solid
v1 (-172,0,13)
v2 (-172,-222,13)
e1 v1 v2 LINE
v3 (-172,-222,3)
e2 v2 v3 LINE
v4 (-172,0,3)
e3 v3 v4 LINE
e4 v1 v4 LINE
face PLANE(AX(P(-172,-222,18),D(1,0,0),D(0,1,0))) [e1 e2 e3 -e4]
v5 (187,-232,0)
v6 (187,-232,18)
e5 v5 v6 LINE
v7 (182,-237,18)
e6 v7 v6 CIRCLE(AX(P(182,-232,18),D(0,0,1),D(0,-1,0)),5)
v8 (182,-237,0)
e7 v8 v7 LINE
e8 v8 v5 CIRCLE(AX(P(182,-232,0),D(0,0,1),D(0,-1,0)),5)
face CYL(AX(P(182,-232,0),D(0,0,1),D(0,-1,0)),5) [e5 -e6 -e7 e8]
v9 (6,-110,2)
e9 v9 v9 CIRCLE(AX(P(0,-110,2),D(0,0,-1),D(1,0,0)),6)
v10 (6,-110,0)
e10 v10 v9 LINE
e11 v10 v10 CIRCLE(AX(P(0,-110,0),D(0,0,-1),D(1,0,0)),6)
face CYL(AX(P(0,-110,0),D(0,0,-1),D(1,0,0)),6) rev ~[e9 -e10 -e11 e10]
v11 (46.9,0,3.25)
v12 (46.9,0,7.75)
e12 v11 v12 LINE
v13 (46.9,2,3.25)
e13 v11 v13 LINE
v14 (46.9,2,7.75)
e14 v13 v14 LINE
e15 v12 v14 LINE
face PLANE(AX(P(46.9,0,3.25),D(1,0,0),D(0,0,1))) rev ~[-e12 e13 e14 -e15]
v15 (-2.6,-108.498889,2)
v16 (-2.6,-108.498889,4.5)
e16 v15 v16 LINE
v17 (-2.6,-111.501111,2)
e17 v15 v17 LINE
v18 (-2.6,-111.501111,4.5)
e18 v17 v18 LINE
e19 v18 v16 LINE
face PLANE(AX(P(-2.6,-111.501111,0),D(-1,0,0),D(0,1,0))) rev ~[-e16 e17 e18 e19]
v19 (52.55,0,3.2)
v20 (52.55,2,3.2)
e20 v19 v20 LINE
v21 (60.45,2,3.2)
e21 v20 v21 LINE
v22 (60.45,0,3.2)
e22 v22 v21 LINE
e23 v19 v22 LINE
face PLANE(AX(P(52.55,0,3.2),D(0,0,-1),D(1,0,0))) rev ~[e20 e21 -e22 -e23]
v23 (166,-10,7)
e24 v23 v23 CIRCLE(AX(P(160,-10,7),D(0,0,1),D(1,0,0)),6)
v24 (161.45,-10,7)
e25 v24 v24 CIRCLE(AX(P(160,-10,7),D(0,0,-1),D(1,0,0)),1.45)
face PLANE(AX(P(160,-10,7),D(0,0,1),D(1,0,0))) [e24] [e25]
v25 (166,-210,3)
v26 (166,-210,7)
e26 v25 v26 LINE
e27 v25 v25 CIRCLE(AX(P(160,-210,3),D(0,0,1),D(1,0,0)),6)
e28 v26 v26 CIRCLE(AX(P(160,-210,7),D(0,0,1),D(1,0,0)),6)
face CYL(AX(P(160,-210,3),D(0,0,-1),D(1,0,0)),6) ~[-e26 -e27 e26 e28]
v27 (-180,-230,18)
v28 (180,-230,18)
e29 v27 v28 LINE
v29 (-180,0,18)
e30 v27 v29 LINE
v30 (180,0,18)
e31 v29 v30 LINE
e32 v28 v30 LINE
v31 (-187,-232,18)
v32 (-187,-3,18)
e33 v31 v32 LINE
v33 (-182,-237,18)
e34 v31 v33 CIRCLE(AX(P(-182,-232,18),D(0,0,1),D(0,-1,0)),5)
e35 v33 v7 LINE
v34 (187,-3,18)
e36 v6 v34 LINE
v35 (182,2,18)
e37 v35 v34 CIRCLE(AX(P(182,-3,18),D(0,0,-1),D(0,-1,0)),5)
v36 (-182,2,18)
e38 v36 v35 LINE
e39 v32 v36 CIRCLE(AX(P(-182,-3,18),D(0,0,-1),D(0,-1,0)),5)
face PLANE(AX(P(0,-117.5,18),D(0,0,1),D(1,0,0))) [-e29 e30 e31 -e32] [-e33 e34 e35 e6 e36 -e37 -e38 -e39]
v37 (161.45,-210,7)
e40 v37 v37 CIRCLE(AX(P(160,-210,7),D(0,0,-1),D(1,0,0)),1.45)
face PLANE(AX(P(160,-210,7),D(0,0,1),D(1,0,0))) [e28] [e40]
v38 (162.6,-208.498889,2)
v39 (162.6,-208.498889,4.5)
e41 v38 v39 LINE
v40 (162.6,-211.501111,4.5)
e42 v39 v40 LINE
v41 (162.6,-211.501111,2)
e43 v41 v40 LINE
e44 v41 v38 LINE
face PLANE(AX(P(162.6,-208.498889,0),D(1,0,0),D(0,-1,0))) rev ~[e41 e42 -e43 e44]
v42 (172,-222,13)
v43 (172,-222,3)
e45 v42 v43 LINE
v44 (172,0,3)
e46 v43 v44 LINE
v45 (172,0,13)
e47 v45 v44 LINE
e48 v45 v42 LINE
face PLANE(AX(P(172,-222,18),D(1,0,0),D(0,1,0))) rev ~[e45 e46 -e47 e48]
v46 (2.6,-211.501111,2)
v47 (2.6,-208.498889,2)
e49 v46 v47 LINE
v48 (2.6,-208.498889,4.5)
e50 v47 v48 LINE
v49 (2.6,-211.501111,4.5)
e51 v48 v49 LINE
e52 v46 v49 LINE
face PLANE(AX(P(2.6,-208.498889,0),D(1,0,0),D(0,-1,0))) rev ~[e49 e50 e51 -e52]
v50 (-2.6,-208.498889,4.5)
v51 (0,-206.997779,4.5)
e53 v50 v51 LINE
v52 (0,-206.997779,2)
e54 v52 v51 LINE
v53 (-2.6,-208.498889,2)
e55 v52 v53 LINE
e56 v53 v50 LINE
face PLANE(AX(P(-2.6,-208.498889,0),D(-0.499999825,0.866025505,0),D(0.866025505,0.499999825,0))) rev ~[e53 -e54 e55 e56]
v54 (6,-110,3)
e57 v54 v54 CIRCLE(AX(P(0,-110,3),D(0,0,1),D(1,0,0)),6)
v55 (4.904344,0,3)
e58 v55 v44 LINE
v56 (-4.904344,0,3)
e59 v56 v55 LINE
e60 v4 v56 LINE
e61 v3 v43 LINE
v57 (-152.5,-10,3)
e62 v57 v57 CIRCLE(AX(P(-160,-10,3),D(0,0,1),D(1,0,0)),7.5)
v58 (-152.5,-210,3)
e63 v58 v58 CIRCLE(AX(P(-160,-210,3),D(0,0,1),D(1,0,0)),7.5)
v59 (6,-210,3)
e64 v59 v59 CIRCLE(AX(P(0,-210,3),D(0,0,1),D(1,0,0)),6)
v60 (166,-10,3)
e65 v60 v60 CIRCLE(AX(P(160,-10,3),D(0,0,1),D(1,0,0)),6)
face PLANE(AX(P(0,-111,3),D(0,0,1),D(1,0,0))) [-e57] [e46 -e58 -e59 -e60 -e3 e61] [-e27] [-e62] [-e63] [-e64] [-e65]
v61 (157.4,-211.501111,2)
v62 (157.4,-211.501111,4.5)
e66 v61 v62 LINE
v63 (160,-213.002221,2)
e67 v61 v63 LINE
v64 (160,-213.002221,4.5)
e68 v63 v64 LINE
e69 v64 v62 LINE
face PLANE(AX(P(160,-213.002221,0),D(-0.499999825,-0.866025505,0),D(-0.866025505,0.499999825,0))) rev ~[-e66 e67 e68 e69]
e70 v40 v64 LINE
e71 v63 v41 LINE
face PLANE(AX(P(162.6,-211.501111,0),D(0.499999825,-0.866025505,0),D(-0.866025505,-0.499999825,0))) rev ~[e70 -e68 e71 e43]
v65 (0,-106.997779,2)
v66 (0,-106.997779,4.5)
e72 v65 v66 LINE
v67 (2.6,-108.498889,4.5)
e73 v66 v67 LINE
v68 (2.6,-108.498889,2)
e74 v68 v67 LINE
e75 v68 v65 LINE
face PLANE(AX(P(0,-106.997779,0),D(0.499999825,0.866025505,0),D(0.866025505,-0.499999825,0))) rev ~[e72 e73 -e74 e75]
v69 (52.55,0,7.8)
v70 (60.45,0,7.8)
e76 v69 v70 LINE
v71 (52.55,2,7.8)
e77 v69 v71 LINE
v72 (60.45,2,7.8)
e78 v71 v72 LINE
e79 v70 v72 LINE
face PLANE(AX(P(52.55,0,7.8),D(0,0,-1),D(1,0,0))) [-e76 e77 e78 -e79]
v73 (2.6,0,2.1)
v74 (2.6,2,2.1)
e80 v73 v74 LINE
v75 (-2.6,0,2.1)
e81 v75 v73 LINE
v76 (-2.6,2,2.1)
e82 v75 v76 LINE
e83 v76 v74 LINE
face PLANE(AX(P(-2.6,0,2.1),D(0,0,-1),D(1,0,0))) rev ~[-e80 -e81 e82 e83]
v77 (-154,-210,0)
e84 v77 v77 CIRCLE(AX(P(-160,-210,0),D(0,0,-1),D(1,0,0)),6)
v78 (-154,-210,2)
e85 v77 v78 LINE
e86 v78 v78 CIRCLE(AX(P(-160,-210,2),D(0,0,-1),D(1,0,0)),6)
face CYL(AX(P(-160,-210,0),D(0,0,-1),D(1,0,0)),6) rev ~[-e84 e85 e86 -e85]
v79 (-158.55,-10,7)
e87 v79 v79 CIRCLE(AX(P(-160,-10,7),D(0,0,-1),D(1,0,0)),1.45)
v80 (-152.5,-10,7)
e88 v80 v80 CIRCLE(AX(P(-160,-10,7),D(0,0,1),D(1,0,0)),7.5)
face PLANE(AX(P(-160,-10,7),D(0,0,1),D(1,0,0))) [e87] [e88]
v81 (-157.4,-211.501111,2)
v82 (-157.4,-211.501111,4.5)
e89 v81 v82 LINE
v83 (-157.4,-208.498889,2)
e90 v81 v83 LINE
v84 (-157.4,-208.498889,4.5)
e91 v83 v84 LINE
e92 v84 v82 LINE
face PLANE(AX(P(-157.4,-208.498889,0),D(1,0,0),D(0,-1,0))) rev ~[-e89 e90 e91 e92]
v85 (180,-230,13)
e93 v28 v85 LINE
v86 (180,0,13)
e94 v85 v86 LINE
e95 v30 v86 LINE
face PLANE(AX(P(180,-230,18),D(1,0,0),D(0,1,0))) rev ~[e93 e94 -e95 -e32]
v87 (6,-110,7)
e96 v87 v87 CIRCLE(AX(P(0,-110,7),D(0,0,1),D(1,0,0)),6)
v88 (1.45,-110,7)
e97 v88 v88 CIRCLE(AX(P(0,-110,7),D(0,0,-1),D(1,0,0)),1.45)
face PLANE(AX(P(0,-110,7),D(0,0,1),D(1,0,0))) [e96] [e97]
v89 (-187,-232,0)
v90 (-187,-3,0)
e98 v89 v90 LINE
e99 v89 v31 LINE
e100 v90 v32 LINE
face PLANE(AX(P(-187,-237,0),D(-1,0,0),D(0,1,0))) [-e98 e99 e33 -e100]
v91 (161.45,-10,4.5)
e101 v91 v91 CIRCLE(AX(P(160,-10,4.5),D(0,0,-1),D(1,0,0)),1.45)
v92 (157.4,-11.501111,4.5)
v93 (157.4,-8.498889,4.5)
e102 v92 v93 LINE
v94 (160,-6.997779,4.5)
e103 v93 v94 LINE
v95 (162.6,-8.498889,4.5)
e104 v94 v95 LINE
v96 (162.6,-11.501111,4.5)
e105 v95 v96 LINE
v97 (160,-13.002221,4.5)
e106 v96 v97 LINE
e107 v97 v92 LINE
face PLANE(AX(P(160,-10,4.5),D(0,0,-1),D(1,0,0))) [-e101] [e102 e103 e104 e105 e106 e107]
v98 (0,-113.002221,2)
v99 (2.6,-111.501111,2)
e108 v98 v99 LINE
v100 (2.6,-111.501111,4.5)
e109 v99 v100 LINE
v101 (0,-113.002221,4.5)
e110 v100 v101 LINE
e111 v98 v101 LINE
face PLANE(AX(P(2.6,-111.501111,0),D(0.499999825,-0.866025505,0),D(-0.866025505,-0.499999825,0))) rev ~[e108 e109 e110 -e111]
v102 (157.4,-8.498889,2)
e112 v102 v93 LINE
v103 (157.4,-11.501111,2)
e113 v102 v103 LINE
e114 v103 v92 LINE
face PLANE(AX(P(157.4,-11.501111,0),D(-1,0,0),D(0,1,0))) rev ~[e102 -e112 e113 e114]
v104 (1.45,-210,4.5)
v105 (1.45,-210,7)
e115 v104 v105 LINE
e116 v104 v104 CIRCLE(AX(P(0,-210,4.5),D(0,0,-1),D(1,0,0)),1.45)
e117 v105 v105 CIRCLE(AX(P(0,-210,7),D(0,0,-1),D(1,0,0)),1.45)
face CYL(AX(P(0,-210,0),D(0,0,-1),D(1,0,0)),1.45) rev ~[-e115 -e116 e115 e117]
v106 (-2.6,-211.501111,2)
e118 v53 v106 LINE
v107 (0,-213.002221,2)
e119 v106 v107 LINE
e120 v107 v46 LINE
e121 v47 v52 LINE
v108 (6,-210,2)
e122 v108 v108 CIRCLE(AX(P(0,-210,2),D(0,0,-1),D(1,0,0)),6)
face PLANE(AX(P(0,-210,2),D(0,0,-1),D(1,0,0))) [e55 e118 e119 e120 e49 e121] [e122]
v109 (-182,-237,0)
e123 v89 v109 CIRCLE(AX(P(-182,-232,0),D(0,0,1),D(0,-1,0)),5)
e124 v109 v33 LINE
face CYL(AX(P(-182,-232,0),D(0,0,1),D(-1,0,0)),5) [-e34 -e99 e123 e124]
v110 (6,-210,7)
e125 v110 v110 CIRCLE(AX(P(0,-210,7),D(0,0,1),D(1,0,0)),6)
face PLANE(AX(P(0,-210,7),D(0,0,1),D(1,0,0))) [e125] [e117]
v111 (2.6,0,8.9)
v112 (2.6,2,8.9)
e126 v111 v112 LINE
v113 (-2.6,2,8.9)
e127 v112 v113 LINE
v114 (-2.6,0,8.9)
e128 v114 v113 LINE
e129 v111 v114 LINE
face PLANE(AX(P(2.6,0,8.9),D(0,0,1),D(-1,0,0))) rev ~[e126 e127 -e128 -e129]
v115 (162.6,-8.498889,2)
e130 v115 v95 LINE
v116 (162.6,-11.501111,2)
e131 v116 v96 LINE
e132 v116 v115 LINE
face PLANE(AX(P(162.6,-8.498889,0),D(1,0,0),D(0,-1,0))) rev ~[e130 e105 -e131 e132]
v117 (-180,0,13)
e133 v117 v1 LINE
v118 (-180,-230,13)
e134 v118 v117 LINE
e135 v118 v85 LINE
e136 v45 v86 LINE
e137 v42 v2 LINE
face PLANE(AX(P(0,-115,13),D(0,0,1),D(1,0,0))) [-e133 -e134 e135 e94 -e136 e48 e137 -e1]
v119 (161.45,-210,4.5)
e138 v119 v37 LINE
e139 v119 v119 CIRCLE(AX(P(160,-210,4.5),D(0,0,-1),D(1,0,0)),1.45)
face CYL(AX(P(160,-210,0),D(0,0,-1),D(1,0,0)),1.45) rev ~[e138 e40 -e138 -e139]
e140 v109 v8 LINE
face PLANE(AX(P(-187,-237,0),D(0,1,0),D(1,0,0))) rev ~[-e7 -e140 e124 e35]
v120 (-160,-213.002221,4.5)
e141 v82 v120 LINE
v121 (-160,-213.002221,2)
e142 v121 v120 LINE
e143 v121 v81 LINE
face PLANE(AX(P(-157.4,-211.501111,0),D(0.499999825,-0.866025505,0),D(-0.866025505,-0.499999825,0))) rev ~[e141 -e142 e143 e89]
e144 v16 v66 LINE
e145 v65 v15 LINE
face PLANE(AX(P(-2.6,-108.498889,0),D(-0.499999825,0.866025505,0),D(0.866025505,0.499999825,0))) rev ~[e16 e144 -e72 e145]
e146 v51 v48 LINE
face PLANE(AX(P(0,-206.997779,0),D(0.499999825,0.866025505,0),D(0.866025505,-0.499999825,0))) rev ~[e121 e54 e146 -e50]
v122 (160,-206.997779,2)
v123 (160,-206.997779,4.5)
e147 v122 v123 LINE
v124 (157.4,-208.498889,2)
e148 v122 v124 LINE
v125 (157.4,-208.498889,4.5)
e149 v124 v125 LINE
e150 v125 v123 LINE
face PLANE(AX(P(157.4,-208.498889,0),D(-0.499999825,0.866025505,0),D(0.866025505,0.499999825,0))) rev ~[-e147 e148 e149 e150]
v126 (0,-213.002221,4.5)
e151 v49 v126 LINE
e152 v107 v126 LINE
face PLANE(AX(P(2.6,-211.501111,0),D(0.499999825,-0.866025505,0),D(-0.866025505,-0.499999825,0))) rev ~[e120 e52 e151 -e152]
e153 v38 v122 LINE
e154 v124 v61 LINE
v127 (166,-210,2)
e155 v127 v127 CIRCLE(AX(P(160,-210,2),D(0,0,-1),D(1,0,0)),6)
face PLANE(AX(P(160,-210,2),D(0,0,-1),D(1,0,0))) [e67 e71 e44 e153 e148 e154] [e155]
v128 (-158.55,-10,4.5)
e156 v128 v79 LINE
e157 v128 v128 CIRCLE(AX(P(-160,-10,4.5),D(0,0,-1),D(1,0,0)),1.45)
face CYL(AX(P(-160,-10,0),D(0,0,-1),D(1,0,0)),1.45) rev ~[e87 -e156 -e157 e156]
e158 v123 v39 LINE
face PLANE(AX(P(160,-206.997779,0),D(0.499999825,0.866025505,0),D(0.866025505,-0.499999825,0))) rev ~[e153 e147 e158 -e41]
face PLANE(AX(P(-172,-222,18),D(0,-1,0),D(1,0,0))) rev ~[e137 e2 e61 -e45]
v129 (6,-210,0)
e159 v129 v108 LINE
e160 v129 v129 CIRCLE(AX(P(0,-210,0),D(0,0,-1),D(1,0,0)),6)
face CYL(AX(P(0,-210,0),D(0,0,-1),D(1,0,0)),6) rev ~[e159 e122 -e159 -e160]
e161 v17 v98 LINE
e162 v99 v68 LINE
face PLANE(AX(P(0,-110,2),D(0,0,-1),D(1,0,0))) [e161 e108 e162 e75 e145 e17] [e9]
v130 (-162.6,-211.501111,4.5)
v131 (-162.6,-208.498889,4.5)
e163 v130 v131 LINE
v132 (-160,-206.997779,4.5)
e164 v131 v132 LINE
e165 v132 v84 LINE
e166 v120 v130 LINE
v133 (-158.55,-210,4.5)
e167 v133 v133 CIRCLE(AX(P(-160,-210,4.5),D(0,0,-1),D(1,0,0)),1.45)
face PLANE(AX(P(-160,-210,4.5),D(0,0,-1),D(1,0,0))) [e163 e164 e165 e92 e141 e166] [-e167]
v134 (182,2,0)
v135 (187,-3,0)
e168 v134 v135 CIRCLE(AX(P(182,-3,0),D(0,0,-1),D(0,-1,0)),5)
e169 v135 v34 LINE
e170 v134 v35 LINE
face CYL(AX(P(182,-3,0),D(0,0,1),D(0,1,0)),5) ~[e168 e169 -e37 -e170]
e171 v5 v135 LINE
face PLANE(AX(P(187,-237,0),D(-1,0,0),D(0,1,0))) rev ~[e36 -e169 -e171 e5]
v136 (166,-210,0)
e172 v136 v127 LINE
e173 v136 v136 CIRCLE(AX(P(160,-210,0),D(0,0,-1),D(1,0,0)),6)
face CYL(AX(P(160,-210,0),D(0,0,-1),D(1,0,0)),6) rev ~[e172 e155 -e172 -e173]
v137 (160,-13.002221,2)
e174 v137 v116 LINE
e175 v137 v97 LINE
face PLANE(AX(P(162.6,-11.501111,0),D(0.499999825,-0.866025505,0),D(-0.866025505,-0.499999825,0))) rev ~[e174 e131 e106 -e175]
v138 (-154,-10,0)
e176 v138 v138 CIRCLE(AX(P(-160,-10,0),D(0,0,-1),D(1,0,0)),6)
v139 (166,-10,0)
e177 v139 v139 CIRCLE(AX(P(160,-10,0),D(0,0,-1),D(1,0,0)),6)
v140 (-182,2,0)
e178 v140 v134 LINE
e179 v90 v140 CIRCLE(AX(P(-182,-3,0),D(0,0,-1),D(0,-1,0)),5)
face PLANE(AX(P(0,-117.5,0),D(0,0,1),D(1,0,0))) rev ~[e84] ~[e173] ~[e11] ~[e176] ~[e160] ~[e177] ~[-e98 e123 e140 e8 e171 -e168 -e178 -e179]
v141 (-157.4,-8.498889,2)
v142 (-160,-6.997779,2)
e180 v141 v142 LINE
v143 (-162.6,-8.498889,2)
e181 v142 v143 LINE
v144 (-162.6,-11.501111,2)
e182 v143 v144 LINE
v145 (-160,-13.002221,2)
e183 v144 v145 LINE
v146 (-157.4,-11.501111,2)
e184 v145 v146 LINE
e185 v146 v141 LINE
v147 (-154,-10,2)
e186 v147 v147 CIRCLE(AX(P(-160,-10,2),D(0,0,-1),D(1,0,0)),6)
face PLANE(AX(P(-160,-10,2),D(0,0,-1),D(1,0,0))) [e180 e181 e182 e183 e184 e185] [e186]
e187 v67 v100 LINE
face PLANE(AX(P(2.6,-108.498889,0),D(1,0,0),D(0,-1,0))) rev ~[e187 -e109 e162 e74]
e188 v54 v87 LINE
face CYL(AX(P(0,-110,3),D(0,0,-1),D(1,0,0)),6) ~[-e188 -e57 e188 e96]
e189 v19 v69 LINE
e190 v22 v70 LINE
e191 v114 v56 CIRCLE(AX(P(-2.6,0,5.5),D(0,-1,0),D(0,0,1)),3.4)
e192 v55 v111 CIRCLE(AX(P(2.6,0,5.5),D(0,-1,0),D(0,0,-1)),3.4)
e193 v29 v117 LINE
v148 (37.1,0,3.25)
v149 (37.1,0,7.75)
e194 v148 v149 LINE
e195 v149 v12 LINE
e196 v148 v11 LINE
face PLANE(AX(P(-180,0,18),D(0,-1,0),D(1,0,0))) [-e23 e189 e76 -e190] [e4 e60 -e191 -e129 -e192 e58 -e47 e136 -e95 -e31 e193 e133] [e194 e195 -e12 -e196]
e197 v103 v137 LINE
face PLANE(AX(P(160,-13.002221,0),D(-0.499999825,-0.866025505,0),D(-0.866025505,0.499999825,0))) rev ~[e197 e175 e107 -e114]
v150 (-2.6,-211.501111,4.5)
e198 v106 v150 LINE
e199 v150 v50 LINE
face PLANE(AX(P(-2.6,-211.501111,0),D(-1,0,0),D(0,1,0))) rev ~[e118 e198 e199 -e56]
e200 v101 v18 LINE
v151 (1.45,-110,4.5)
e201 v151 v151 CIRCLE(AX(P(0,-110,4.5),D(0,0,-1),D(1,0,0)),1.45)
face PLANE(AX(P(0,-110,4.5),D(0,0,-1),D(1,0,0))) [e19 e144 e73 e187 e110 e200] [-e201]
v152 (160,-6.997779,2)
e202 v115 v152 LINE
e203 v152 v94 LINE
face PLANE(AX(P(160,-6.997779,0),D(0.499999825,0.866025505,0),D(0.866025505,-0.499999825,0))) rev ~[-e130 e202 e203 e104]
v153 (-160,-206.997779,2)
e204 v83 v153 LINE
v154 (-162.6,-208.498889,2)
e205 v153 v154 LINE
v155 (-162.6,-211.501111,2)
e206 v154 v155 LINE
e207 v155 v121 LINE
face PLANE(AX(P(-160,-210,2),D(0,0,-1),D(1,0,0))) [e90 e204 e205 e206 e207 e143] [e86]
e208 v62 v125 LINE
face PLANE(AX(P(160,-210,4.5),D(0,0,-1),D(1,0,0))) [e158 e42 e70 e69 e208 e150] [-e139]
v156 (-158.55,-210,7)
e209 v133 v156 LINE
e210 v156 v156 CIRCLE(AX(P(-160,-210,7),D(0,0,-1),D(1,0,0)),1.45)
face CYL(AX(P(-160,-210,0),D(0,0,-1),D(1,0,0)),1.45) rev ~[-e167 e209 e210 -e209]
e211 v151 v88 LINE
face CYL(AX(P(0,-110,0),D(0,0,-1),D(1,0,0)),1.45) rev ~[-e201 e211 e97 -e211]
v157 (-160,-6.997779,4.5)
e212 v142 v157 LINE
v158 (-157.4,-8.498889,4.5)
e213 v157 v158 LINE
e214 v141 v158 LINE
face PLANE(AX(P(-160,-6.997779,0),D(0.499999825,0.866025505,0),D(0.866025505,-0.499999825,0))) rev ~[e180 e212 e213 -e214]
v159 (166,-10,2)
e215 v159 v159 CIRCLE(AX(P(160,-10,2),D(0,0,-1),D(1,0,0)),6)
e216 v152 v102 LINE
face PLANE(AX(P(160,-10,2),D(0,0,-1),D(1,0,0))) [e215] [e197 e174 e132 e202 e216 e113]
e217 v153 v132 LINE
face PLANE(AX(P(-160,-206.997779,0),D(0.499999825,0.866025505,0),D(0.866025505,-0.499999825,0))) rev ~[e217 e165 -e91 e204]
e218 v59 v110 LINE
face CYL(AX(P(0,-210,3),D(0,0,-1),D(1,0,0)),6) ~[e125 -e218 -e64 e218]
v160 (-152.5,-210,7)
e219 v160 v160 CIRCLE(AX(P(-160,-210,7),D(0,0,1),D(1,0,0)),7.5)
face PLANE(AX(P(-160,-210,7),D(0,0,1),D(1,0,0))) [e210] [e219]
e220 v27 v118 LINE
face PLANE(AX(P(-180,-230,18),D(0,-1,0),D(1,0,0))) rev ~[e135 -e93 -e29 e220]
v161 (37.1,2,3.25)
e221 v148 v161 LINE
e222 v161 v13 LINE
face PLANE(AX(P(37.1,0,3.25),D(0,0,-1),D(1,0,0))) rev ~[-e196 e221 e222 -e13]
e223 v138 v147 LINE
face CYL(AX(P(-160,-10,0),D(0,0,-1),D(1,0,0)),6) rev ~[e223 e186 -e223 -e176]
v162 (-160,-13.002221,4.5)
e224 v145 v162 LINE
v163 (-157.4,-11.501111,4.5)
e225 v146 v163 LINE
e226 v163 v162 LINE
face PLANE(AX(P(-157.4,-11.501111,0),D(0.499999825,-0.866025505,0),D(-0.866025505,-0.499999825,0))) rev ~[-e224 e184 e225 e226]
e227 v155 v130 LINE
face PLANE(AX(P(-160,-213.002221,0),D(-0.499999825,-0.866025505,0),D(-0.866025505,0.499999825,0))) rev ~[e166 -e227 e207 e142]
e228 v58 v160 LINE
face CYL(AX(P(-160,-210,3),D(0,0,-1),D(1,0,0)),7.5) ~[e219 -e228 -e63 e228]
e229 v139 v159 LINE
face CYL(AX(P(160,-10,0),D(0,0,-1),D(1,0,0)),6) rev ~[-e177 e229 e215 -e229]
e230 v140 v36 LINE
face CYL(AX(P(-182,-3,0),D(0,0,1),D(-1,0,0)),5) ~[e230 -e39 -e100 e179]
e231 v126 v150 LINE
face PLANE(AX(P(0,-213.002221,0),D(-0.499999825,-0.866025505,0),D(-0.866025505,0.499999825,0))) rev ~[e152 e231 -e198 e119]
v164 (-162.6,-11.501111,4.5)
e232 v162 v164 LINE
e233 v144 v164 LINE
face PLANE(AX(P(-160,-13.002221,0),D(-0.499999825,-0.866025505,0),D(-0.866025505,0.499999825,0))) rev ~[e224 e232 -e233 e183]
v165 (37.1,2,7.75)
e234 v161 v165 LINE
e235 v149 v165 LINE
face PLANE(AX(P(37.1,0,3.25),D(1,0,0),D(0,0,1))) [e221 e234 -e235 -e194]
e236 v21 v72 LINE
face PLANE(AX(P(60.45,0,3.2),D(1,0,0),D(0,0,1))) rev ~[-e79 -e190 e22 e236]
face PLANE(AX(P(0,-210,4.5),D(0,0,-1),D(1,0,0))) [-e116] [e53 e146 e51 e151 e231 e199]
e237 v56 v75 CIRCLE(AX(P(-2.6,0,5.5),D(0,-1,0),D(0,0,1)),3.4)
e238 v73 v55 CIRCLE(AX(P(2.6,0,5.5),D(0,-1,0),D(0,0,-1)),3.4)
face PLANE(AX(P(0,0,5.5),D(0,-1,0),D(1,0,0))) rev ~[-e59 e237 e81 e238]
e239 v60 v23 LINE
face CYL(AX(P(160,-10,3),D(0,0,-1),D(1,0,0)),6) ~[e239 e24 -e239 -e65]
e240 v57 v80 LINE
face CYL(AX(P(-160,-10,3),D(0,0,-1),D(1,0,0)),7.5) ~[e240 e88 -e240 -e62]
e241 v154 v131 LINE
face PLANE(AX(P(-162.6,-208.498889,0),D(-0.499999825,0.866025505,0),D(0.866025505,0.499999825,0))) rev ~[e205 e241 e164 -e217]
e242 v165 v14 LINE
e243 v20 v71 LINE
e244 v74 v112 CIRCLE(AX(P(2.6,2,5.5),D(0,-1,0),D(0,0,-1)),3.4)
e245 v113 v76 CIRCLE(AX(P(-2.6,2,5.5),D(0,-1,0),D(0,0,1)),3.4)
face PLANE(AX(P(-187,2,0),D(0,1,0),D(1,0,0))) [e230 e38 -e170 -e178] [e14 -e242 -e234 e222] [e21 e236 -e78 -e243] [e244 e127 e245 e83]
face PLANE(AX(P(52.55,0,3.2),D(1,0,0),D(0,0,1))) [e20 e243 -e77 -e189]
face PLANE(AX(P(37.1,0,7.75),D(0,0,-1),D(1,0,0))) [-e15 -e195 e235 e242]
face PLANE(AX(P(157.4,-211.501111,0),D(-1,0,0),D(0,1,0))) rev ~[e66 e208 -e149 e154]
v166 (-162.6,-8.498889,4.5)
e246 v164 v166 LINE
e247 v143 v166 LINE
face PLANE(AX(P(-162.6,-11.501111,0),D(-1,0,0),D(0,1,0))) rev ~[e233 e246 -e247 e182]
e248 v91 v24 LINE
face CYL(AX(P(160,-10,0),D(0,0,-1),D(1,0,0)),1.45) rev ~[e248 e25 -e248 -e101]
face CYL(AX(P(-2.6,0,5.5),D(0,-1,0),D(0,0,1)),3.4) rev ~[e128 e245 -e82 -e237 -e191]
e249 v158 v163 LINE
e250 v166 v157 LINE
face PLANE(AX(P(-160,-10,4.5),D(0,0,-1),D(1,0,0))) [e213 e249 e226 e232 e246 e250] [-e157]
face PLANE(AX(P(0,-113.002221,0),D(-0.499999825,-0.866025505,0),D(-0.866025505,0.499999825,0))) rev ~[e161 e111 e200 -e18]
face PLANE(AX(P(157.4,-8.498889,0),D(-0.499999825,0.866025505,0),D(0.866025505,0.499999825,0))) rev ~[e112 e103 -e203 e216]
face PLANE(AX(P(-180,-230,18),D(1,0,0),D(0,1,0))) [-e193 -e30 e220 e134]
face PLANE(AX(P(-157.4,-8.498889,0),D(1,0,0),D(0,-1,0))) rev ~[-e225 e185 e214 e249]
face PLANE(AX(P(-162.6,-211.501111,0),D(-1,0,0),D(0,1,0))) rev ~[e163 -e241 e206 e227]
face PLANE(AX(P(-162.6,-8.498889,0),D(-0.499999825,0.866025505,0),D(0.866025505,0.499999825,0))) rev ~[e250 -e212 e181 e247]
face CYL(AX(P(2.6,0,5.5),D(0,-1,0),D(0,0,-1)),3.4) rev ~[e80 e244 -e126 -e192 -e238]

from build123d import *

# Parameters (mm, degrees)
SKETCH_W        = 374
SKETCH_H        = 239
PAD_DEPTH       = 18
SKETCH001_W     = 344
SKETCH001_H     = 222
POCKET_DEPTH    = 15
SKETCH002_R     = 6
SKETCH002_R_2   = 7.5
PAD001_DEPTH    = 4
SKETCH003_R     = 1.45
HOLE_DEPTH      = 25
POCKET001_DEPTH = 4.5
SKETCH005_W     = 360
SKETCH005_H     = 230
POCKET002_DEPTH = 5
SKETCH006_W     = 7.9
SKETCH006_H     = 4.6
SKETCH006_W_2   = 9.8
SKETCH006_H_2   = 4.5
POCKET003_DEPTH = 2
SKETCH011_R     = 6
HOLE004_DEPTH   = 2
FILLET_R        = 5


with BuildPart() as part:
    # Sketch → Pad (new body)
    with BuildSketch(Plane.XY):
        with Locations((0, -117.5)):
            Rectangle(SKETCH_W, SKETCH_H)
    extrude(amount=PAD_DEPTH)

    # Sketch001 (on Face6 of Pad) → Pocket (cut)
    with BuildSketch(Plane.XY.offset(18)):
        with Locations((0, -111)):
            Rectangle(SKETCH001_W, SKETCH001_H)
    extrude(amount=-POCKET_DEPTH, mode=Mode.SUBTRACT)

    # Sketch002 (on Face11 of Pocket) → Pad001 (join)
    with BuildSketch(Plane.XY.offset(3)):
        with Locations((0, -110)):
            Circle(SKETCH002_R)
        with Locations((160, -10)):
            Circle(SKETCH002_R)
        with Locations((160, -210)):
            Circle(SKETCH002_R)
        with Locations((0, -210)):
            Circle(SKETCH002_R)
        with Locations((-160, -10)):
            Circle(SKETCH002_R_2)
        with Locations((-160, -210)):
            Circle(SKETCH002_R_2)
    extrude(amount=PAD001_DEPTH)

    # Sketch003 (on Face4 of Pad001) → Hole (cut)
    with BuildSketch(Plane(origin=(0, 0, 0), x_dir=(1, 0, 0), z_dir=(0, 0, -1))):
        with Locations((0, 110)):
            Circle(SKETCH003_R)
        with Locations((0, 210)):
            Circle(SKETCH003_R)
        with Locations((-160, 10)):
            Circle(SKETCH003_R)
        with Locations((-160, 210)):
            Circle(SKETCH003_R)
        with Locations((160, 10)):
            Circle(SKETCH003_R)
        with Locations((160, 210)):
            Circle(SKETCH003_R)
    extrude(amount=-HOLE_DEPTH, mode=Mode.SUBTRACT)

    # Sketch004 (on Face4 of Hole) → Pocket001 (cut)
    with BuildSketch(Plane(origin=(0, 0, 0), x_dir=(1, 0, 0), z_dir=(0, 0, -1))):
        Polygon((2.6, 111.501111), (0, 113.002221), (-2.6, 111.501111), (-2.6, 108.498889), (0, 106.997779), (2.6, 108.498889), align=None)
        Polygon((2.6, 208.498889), (2.6, 211.501111), (0, 213.002221), (-2.6, 211.501111), (-2.6, 208.498889), (0, 206.997779), align=None)
        Polygon((162.6, 208.498889), (162.6, 211.501111), (160, 213.002221), (157.4, 211.501111), (157.4, 208.498889), (160, 206.997779), align=None)
        Polygon((162.6, 8.498889), (162.6, 11.501111), (160, 13.002221), (157.4, 11.501111), (157.4, 8.498889), (160, 6.997779), align=None)
        Polygon((-157.4, 8.498889), (-157.4, 11.501111), (-160, 13.002221), (-162.6, 11.501111), (-162.6, 8.498889), (-160, 6.997779), align=None)
        Polygon((-157.4, 208.498889), (-157.4, 211.501111), (-160, 213.002221), (-162.6, 211.501111), (-162.6, 208.498889), (-160, 206.997779), align=None)
    extrude(amount=-POCKET001_DEPTH, mode=Mode.SUBTRACT)

    # Sketch005 (on Face5 of Pocket001) → Pocket002 (cut)
    with BuildSketch(Plane.XY.offset(18)):
        with Locations((0, -115)):
            Rectangle(SKETCH005_W, SKETCH005_H)
    extrude(amount=-POCKET002_DEPTH, mode=Mode.SUBTRACT)

    # Sketch006 (on Pad) → Pocket003 (cut)
    with BuildSketch(Plane.XZ):
        with BuildLine():
            ThreePointArc((-2.6, 8.9), (-6, 5.5), (-2.6, 2.1))
            Line((-2.6, 2.1), (2.6, 2.1))
            ThreePointArc((2.6, 2.1), (6, 5.5), (2.6, 8.9))
            Line((2.6, 8.9), (-2.6, 8.9))
        make_face()
        with Locations((56.5, 5.5)):
            Rectangle(SKETCH006_W, SKETCH006_H)
        with Locations((42, 5.5)):
            Rectangle(SKETCH006_W_2, SKETCH006_H_2)
    extrude(amount=-POCKET003_DEPTH, mode=Mode.SUBTRACT)

    # Sketch011 (on Face4 of Pad001) → Hole004 (cut)
    with BuildSketch(Plane(origin=(0, 0, 0), x_dir=(1, 0, 0), z_dir=(0, 0, -1))):
        with Locations((0, 110)):
            Circle(SKETCH011_R)
        with Locations((0, 210)):
            Circle(SKETCH011_R)
        with Locations((-160, 10)):
            Circle(SKETCH011_R)
        with Locations((-160, 210)):
            Circle(SKETCH011_R)
        with Locations((160, 10)):
            Circle(SKETCH011_R)
        with Locations((160, 210)):
            Circle(SKETCH011_R)
    extrude(amount=-HOLE004_DEPTH, mode=Mode.SUBTRACT)

    # Fillet
    fillet_edges = [part.edges().sort_by_distance(p)[0] for p in [
        (-187, 2, 9),
        (-187, -237, 9),
        (187, 2, 9),
        (187, -237, 9),
    ]]
    fillet(fillet_edges, radius=FILLET_R)


solid = part.part
